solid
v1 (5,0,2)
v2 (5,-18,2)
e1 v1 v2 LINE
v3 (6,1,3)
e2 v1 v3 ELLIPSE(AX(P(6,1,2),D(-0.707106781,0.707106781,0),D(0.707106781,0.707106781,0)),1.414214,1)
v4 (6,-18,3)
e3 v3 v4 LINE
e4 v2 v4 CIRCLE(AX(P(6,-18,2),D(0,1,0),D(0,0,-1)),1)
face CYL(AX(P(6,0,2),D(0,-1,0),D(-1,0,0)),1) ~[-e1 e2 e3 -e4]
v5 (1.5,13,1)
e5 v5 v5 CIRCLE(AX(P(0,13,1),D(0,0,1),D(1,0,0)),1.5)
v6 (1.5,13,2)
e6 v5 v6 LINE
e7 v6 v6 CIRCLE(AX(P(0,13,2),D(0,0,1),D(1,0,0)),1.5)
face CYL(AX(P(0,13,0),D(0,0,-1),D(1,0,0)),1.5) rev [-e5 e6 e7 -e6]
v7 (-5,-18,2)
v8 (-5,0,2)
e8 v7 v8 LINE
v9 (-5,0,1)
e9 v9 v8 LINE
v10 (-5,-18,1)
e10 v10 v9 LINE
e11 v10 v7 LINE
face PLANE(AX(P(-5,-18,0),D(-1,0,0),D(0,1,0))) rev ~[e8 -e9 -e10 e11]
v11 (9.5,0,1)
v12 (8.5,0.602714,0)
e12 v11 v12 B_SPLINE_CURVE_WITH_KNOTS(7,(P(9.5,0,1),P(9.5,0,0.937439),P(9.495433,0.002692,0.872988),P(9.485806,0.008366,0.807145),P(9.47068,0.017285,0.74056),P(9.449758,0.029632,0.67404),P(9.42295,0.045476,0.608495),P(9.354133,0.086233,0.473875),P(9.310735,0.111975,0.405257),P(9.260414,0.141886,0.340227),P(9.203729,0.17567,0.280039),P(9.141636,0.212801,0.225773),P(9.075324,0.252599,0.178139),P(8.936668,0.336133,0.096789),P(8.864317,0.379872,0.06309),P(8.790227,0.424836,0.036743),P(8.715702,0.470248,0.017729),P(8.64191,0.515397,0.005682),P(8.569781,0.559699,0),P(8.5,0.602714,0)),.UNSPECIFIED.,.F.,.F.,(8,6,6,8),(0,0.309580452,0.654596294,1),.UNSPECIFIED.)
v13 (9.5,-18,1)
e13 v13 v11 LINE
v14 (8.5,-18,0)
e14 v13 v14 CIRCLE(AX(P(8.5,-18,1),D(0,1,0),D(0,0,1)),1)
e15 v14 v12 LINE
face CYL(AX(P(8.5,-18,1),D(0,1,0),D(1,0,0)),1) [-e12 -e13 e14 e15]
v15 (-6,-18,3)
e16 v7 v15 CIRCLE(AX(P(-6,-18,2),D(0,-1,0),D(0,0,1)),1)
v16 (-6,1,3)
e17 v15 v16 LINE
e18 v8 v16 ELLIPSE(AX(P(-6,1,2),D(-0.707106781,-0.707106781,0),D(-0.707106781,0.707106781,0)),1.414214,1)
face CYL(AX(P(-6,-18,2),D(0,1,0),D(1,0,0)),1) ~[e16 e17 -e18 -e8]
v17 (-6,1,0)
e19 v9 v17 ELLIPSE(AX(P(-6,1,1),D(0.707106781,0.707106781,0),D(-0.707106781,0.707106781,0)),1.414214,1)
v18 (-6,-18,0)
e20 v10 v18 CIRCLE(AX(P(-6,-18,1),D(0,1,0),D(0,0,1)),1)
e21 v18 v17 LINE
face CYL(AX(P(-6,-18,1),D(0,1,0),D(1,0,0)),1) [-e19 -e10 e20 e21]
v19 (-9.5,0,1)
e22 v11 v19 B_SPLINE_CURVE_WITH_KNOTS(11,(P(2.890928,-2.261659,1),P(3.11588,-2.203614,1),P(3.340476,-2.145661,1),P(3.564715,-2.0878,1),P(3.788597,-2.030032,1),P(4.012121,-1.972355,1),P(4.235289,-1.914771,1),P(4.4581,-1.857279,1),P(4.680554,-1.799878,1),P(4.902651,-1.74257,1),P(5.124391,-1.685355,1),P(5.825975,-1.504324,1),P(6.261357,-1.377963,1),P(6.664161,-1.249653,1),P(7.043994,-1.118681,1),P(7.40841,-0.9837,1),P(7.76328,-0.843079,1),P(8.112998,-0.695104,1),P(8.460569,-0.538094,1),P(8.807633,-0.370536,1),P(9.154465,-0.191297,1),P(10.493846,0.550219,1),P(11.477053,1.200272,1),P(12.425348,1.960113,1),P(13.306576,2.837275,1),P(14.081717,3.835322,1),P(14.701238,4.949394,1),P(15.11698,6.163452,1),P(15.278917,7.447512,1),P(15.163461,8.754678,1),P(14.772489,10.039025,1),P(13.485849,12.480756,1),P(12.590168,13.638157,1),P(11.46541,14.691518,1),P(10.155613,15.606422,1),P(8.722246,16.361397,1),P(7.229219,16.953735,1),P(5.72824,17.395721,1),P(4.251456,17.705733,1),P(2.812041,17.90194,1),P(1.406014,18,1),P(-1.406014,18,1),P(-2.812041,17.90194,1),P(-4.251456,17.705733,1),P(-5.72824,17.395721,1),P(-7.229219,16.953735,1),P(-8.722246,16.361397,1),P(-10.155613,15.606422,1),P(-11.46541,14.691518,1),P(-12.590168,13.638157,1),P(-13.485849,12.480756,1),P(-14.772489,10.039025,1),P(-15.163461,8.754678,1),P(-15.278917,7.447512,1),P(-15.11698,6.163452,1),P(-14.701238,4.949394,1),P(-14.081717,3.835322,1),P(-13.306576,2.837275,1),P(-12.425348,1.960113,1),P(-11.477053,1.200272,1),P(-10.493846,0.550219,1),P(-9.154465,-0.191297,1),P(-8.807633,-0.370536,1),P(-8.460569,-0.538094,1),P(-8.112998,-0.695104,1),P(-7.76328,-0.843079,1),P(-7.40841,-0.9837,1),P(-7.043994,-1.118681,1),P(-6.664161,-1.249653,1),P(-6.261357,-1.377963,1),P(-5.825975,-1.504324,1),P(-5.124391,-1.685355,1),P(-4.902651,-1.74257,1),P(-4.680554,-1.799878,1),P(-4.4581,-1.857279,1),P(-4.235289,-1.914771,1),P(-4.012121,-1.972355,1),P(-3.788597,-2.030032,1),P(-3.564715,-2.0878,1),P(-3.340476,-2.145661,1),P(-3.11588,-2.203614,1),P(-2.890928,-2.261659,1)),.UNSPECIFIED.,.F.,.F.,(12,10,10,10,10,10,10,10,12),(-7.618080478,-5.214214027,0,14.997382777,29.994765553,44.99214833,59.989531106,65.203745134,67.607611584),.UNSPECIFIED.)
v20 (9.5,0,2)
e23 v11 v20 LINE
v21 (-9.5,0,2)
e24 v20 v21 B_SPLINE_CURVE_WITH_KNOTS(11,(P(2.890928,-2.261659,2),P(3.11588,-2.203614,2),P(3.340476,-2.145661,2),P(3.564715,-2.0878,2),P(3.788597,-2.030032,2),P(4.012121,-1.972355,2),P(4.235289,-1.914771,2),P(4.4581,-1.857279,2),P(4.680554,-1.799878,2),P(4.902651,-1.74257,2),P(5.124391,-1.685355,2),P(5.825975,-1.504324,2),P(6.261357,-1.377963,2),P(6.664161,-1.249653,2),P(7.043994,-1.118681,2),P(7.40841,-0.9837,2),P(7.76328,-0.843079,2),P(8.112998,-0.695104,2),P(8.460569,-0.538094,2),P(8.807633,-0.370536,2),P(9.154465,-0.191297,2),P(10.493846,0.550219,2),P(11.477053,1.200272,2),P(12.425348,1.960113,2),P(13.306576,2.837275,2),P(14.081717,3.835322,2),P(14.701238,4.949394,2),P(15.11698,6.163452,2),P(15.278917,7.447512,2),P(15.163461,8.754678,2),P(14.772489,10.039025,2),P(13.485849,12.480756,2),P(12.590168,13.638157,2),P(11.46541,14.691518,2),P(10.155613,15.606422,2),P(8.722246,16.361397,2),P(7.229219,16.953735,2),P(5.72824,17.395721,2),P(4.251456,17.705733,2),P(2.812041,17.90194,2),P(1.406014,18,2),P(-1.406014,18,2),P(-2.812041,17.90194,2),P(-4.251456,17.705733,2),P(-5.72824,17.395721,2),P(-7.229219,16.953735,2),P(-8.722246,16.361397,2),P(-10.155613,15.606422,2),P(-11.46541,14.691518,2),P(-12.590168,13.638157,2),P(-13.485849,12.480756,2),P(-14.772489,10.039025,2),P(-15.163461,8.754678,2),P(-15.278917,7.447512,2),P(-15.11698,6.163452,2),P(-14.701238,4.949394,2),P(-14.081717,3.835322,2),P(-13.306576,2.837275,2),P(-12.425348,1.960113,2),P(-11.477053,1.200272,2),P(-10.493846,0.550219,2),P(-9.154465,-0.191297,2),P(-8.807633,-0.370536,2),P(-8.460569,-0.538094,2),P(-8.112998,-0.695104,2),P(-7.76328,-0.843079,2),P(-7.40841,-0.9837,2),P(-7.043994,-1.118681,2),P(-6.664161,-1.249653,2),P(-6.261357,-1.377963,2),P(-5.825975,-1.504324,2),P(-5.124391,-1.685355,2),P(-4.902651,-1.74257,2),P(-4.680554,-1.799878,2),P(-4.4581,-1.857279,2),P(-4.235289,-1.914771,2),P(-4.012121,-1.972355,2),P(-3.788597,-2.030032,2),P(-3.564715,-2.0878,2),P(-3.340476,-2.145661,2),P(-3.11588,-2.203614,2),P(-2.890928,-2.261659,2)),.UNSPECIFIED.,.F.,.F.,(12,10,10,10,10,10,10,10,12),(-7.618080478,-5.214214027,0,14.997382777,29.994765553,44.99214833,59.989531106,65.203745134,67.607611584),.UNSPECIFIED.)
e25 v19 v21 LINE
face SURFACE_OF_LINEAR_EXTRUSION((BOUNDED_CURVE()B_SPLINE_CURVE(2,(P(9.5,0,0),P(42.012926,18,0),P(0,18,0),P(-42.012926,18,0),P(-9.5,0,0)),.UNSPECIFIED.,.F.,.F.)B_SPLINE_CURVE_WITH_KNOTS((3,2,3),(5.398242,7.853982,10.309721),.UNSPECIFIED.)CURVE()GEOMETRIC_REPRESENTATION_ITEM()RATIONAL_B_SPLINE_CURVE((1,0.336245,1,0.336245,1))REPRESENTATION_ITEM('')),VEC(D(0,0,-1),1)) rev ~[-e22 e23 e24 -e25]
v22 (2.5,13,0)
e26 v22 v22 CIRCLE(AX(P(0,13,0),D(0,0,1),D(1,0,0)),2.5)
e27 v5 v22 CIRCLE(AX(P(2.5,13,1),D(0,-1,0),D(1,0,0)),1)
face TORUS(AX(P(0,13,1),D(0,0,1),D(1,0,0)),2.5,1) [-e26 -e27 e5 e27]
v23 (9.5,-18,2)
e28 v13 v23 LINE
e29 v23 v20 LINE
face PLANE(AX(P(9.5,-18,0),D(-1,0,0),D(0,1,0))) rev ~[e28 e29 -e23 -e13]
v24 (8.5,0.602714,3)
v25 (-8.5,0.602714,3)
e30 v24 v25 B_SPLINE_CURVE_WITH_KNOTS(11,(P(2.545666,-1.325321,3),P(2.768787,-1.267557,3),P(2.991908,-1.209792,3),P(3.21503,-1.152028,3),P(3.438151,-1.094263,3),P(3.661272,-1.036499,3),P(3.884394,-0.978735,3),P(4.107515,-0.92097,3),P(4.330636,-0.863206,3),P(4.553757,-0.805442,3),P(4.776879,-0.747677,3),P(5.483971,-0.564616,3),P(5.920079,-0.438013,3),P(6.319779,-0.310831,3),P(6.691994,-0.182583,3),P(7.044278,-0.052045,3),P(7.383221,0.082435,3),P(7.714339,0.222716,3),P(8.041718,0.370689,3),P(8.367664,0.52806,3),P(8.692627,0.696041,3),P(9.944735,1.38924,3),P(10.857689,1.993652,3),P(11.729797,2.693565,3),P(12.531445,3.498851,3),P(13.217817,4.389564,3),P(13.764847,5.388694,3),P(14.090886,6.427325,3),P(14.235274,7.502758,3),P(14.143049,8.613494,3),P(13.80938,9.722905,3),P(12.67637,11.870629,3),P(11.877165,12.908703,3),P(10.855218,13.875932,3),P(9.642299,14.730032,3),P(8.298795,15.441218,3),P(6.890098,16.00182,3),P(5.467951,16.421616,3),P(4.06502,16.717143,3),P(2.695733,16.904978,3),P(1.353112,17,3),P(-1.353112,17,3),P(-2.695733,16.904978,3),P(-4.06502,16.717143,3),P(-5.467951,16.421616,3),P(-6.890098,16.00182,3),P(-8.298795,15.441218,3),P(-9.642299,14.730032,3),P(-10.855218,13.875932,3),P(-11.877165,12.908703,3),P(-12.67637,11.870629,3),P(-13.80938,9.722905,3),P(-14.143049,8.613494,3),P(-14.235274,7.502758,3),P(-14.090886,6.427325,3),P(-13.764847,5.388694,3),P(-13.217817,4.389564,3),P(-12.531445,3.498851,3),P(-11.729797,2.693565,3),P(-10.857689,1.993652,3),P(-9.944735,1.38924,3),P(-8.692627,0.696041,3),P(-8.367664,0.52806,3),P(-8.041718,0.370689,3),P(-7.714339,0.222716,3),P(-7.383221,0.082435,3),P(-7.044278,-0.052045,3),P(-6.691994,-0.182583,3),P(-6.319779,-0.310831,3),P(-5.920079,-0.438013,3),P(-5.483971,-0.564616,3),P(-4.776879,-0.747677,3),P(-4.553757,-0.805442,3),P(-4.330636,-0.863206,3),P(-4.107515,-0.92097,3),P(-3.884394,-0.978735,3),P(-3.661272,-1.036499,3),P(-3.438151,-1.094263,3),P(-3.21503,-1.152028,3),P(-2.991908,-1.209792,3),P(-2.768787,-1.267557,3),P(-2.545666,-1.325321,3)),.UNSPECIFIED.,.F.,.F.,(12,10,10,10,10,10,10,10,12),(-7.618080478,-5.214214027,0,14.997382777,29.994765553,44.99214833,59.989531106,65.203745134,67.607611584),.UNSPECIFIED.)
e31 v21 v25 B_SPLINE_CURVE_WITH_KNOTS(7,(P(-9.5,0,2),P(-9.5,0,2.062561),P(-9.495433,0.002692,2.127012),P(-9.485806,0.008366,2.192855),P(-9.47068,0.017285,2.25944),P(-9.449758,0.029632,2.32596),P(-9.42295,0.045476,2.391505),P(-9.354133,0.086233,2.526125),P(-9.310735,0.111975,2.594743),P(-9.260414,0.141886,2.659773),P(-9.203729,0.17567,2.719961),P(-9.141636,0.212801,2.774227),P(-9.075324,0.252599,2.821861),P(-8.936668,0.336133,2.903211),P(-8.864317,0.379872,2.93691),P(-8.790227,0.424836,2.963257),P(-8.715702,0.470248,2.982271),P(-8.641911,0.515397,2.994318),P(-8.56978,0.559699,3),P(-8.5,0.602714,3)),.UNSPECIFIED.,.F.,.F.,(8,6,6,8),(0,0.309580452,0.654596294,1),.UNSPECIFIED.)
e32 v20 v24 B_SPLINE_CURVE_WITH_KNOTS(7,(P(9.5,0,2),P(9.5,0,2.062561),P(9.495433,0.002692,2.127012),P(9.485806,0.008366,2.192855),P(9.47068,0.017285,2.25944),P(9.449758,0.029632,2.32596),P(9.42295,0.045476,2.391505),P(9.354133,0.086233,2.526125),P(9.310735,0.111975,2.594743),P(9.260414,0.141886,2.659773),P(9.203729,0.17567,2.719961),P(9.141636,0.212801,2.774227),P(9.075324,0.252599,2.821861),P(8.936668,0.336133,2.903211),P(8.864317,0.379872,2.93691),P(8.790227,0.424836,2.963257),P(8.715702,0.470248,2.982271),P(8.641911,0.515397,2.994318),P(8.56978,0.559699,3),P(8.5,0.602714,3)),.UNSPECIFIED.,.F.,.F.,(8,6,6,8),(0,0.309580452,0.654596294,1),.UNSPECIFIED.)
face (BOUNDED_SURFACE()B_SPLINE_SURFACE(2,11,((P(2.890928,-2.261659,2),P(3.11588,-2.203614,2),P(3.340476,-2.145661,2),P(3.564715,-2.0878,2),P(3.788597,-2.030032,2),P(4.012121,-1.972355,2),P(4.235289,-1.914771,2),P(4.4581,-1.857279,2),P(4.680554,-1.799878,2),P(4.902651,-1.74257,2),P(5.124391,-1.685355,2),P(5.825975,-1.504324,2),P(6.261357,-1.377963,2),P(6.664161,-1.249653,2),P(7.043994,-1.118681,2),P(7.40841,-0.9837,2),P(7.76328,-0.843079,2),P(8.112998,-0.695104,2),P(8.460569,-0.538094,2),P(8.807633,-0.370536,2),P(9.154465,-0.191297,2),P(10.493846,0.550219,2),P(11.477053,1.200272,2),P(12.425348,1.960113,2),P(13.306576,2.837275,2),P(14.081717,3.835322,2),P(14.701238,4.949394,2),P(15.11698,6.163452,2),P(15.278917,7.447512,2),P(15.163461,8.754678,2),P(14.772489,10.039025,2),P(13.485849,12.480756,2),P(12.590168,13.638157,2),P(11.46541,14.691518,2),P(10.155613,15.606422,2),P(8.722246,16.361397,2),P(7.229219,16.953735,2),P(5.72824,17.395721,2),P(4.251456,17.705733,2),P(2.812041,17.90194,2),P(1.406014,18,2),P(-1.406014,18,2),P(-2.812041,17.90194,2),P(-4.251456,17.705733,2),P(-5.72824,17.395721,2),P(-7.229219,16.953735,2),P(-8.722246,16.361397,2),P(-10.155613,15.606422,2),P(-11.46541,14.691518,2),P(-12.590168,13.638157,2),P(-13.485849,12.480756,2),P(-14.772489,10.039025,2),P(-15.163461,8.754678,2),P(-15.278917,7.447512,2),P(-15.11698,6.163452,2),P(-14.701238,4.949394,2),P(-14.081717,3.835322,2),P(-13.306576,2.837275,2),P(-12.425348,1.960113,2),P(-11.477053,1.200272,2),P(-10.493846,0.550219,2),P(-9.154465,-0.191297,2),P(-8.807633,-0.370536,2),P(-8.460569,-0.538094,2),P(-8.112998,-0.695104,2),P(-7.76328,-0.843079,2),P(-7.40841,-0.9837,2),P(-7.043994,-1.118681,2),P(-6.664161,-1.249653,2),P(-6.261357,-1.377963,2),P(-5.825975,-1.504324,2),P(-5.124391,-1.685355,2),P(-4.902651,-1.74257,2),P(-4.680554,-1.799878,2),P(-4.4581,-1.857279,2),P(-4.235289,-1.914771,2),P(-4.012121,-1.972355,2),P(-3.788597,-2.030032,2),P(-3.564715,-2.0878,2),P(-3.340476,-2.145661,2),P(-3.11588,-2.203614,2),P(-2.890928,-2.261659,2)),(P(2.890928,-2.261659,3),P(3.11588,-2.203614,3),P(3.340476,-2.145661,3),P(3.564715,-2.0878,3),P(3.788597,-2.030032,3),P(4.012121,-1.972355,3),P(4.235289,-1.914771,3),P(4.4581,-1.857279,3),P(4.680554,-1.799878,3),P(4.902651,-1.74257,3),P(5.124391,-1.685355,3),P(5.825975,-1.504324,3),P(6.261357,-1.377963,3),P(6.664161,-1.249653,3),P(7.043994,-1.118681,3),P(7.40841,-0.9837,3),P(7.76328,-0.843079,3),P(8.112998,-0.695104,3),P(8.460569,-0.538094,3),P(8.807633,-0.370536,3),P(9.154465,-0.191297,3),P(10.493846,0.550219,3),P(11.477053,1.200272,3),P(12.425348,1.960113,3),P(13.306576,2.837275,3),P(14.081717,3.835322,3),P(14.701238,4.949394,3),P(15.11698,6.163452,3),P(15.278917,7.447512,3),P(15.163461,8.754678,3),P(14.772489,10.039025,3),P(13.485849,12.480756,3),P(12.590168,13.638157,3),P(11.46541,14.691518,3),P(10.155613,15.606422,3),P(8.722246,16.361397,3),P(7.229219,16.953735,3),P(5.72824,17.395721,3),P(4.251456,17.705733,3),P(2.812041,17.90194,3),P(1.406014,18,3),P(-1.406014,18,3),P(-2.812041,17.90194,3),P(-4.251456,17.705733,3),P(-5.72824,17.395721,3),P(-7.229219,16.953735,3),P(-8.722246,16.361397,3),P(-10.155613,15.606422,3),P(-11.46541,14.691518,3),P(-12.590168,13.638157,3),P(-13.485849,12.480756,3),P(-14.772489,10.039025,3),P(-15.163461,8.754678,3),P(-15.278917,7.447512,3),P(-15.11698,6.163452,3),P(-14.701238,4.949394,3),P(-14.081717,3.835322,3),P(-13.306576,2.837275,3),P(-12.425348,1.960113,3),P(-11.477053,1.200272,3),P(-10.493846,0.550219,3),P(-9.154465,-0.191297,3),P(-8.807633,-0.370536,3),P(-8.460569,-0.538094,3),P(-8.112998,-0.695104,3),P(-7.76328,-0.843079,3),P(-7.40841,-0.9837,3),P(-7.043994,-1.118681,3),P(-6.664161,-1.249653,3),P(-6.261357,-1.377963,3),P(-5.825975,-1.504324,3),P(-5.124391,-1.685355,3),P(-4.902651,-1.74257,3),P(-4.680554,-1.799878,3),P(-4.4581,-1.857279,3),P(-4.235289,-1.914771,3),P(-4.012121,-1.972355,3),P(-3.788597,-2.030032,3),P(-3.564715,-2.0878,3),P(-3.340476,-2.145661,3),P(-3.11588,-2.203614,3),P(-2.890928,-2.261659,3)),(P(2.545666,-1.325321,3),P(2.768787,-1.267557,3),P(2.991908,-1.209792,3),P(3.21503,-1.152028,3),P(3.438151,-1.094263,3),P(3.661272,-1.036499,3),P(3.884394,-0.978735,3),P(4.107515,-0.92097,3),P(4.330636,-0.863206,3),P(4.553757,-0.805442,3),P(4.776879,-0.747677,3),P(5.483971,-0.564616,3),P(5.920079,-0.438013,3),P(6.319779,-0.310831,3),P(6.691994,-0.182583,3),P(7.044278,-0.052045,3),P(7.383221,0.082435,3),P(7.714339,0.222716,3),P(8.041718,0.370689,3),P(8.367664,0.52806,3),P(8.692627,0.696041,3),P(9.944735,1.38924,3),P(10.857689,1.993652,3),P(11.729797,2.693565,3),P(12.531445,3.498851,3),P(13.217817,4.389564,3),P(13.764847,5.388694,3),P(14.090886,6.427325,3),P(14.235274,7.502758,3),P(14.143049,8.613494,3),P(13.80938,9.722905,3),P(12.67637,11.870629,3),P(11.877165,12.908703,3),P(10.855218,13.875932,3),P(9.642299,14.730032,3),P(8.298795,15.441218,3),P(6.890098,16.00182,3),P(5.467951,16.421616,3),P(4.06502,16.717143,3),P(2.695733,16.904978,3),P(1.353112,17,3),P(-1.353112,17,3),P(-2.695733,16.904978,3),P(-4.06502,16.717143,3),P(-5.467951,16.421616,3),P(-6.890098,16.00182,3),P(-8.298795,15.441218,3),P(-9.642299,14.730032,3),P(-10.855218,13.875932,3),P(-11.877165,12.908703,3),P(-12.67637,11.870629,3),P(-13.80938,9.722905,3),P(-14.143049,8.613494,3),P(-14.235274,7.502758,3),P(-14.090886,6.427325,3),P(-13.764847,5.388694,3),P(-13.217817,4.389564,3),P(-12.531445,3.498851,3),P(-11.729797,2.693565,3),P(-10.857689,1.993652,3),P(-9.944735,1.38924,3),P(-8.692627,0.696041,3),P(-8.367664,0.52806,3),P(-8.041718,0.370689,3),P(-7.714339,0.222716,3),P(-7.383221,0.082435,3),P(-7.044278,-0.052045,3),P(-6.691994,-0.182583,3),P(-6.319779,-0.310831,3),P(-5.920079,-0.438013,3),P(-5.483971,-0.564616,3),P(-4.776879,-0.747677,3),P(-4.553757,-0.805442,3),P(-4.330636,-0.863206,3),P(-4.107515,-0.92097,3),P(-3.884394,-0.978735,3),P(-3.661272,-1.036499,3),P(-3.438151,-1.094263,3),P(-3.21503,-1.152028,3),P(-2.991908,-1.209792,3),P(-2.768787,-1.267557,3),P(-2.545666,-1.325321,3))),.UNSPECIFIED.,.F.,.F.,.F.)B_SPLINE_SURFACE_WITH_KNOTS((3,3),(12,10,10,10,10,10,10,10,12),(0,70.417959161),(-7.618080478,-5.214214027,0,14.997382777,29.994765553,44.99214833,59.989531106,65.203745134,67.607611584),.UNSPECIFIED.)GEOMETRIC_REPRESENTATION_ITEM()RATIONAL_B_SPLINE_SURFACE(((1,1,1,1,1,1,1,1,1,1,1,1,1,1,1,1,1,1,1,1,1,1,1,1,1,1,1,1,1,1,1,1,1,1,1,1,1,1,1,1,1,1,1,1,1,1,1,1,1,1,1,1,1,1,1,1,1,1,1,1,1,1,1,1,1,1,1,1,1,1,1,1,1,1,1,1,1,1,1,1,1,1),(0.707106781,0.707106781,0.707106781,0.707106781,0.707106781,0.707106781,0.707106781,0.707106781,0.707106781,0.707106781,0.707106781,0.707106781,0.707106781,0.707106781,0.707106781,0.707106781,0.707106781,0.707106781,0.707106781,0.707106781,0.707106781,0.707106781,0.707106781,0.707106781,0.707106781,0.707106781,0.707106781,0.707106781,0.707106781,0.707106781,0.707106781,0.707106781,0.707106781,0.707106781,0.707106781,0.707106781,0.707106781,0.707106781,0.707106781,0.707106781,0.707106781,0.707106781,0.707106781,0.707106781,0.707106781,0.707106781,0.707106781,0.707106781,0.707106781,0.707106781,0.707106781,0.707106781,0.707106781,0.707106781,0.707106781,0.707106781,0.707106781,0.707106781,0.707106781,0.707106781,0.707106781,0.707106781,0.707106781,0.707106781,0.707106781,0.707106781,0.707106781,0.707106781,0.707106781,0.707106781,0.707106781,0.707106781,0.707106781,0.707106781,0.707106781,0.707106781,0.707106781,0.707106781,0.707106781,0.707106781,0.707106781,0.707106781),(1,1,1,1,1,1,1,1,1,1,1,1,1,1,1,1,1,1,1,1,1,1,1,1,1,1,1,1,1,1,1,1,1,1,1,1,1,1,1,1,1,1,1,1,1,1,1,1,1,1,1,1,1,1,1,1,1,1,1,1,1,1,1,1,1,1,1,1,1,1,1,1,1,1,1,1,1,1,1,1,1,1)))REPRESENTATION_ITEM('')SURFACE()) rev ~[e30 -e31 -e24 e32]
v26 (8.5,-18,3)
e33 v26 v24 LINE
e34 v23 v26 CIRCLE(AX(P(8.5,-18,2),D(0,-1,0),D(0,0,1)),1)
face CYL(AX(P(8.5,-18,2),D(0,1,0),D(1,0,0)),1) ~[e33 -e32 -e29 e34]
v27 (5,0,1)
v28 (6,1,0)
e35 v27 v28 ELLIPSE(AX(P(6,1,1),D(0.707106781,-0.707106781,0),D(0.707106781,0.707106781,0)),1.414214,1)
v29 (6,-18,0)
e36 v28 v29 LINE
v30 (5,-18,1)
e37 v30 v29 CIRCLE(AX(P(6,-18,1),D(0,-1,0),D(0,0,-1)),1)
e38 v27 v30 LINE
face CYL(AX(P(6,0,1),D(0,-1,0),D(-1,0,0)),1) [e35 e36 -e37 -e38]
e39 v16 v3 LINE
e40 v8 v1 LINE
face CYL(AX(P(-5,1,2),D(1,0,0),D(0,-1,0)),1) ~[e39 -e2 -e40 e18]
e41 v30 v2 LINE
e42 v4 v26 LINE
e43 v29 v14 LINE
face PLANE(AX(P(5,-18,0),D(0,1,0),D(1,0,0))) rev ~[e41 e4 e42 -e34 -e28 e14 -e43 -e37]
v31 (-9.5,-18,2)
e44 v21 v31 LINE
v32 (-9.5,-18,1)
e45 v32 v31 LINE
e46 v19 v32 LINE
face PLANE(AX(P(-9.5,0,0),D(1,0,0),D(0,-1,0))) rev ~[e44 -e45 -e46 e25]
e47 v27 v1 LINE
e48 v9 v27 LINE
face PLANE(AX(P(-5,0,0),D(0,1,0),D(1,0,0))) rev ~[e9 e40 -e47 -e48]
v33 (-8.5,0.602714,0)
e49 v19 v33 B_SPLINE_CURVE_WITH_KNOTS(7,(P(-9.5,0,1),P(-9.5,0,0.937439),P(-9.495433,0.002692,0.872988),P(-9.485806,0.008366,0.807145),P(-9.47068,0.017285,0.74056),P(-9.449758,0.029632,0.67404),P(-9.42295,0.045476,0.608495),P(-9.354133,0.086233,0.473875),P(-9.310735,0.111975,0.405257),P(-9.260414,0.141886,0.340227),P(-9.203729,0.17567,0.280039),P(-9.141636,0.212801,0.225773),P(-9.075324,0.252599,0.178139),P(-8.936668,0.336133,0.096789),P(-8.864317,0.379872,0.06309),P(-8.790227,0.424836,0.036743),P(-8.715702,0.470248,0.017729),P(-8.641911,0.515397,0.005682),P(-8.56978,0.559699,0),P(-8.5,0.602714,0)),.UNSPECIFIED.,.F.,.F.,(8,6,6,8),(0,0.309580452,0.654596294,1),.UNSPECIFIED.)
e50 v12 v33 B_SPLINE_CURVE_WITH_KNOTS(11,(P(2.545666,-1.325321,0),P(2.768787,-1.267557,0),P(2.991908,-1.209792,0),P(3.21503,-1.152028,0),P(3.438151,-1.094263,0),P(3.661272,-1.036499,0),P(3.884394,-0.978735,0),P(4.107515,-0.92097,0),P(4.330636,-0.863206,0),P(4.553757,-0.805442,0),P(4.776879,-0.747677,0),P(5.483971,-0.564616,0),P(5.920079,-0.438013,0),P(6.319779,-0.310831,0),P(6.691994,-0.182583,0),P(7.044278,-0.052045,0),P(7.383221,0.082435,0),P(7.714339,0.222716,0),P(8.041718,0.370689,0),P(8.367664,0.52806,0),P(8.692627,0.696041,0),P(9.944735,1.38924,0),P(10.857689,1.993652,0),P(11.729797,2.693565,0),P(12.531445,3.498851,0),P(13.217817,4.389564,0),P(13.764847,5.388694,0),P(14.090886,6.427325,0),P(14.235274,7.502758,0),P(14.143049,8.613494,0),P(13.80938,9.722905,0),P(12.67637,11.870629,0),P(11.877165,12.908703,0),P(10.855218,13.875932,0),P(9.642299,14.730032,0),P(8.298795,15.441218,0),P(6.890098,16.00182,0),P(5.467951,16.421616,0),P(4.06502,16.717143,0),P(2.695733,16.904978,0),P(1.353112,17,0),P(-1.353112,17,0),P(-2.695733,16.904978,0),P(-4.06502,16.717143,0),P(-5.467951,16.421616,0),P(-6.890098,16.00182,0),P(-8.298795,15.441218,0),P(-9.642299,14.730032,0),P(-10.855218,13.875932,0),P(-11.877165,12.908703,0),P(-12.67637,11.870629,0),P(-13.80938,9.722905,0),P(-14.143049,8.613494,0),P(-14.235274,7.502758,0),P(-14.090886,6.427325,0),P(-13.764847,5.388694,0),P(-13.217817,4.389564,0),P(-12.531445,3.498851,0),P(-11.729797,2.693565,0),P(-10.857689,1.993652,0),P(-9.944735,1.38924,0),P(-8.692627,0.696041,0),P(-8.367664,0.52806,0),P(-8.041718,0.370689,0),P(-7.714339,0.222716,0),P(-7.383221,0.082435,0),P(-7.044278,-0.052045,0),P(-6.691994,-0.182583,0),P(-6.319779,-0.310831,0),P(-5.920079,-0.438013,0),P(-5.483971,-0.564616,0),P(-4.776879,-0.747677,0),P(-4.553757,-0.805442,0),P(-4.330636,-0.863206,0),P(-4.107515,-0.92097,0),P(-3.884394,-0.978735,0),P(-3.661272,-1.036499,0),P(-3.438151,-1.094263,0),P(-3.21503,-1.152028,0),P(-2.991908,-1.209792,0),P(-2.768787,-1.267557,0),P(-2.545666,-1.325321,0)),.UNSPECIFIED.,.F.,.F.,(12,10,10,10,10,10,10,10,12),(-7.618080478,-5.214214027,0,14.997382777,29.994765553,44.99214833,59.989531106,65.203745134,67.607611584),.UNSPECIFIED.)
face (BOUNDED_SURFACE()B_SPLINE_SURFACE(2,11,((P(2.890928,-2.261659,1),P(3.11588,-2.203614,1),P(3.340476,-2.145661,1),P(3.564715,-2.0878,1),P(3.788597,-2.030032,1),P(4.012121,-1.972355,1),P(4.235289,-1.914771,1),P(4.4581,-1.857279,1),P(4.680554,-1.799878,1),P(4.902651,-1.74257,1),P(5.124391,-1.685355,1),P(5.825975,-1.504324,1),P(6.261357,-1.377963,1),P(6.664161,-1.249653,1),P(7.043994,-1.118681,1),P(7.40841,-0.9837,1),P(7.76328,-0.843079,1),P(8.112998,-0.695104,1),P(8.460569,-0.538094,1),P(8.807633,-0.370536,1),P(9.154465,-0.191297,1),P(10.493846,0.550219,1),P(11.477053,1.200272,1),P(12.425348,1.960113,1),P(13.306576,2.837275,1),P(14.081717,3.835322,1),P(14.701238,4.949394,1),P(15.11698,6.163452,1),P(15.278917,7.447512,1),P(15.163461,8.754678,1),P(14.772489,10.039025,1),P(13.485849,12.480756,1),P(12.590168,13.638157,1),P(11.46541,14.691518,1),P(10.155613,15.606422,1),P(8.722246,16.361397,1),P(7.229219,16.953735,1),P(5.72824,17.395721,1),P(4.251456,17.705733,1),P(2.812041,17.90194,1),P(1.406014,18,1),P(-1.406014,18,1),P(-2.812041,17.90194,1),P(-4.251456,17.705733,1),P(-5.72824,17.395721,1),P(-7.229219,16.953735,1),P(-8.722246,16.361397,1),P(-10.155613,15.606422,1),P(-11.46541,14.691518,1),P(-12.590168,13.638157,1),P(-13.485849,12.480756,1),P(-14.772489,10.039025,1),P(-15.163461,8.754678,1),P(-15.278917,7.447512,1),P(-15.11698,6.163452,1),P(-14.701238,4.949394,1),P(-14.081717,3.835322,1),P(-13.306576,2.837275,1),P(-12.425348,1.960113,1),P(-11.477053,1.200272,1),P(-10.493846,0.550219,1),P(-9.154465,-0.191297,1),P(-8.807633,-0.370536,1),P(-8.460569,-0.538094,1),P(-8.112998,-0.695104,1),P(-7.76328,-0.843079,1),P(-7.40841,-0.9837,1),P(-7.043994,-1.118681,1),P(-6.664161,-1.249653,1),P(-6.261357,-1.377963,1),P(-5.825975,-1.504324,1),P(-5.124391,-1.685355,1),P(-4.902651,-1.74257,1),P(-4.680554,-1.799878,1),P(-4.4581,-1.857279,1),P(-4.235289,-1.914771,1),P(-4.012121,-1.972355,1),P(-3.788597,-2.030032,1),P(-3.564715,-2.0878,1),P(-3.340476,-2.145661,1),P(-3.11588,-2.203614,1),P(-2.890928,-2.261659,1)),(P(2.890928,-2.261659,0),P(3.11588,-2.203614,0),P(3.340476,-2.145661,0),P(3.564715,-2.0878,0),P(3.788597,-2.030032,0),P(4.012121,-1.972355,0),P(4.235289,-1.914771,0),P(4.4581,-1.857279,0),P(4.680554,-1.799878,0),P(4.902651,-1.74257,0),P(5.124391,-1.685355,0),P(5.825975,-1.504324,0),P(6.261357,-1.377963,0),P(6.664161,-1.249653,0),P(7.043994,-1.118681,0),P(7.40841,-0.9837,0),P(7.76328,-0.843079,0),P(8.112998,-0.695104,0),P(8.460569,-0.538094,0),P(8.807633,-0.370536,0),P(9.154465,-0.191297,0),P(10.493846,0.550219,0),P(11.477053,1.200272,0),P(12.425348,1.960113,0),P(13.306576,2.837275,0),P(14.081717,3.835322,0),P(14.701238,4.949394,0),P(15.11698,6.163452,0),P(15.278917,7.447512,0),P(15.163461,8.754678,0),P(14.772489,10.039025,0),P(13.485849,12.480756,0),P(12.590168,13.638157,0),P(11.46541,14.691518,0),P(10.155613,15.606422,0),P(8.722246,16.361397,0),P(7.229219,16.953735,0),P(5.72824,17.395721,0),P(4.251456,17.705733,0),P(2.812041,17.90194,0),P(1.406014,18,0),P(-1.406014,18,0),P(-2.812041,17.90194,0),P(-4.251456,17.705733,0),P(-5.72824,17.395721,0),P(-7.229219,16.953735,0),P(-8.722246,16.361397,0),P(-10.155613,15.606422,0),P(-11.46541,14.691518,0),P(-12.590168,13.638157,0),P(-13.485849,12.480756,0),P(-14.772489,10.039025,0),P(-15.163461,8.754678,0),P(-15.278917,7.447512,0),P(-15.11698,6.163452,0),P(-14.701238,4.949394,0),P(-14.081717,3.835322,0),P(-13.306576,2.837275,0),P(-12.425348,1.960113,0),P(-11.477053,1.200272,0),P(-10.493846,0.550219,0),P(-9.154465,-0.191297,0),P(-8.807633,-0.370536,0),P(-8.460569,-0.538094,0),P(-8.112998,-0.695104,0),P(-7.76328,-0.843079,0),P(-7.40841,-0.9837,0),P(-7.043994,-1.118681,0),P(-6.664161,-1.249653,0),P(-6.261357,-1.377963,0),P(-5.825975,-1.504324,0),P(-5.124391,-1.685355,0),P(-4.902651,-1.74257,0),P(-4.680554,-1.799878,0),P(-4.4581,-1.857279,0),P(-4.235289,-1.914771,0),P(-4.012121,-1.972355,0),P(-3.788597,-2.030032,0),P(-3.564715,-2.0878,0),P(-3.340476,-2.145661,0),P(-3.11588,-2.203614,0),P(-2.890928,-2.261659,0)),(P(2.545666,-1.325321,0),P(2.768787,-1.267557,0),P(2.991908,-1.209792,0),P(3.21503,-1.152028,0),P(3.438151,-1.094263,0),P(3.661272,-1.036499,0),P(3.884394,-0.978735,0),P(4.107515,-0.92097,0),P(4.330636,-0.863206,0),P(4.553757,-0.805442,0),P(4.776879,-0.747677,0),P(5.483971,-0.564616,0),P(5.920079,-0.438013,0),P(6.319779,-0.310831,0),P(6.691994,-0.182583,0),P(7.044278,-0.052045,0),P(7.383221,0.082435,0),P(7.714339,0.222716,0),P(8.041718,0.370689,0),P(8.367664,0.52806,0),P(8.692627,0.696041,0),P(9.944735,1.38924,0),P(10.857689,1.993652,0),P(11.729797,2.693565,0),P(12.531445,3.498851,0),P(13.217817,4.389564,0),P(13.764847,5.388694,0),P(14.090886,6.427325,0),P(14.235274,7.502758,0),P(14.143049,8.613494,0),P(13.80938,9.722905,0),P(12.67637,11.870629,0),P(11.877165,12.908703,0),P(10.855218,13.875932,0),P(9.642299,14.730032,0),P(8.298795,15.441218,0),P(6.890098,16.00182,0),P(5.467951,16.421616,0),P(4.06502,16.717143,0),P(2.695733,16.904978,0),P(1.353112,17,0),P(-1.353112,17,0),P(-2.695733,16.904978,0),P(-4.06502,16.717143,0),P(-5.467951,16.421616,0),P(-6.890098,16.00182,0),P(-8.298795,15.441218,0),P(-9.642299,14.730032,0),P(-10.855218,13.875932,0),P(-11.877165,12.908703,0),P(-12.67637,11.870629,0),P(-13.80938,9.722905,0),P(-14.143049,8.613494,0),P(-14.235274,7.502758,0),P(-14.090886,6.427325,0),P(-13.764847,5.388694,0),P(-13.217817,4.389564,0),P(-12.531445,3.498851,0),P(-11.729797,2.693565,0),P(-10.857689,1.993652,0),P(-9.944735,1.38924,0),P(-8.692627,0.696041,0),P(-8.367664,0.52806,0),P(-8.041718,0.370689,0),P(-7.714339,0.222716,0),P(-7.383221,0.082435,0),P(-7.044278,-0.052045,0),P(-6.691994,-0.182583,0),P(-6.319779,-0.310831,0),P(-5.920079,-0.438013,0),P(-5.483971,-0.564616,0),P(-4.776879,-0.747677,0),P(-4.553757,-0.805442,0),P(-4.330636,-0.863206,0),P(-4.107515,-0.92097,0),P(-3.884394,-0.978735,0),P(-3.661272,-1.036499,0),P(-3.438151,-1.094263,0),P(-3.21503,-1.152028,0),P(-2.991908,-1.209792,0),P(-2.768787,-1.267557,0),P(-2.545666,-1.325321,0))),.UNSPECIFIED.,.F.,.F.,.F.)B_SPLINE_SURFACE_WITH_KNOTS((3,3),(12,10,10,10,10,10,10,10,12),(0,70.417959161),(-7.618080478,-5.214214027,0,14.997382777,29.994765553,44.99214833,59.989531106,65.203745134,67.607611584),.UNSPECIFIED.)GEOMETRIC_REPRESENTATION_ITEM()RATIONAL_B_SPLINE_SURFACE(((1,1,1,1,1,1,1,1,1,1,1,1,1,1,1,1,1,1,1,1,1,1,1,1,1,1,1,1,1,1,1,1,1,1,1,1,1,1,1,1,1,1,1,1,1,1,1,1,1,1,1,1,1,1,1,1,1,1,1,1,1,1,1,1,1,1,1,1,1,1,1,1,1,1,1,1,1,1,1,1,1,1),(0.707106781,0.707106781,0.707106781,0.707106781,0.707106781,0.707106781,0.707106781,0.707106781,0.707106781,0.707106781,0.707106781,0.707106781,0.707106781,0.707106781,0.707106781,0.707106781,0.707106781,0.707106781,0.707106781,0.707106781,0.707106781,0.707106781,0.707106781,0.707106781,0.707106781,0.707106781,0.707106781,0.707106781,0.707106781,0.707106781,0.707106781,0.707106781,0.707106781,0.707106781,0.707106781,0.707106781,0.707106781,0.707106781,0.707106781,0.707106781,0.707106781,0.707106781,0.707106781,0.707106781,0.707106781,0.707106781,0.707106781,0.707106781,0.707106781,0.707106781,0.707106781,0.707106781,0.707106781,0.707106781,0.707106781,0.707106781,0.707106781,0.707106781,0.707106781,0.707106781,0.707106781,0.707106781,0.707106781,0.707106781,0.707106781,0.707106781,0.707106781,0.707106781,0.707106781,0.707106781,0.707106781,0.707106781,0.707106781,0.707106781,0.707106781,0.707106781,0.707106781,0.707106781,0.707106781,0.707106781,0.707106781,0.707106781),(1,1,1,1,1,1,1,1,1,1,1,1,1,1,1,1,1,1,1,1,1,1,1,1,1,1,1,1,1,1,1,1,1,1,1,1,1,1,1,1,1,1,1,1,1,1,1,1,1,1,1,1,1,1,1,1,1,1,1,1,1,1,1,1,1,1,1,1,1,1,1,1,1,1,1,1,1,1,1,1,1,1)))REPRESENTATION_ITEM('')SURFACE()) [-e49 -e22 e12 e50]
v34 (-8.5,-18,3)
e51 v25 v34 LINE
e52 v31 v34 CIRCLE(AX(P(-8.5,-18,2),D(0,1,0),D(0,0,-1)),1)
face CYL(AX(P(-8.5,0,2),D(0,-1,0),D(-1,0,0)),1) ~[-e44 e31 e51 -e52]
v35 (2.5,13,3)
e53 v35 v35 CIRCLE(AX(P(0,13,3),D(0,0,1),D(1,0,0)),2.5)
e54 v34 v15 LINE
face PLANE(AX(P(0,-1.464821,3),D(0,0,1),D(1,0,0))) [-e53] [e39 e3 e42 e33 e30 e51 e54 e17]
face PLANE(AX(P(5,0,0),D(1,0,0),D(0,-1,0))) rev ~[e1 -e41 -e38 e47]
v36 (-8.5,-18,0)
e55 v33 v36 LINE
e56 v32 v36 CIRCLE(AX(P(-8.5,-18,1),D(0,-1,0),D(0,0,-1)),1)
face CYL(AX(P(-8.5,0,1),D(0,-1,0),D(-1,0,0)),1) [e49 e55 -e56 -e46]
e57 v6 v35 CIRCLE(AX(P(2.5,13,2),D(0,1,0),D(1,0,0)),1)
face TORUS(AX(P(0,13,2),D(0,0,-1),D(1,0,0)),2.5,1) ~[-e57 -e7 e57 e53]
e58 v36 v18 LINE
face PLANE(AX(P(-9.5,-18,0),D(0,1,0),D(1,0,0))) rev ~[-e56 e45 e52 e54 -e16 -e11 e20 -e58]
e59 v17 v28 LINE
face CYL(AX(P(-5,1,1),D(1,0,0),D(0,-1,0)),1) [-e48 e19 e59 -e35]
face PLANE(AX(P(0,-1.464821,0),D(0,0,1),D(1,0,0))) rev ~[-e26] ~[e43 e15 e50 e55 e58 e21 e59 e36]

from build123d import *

# Parameters (mm, degrees)
SKETCH_R  = 1.5
PAD_DEPTH = 3
FILLET_R  = 1


with BuildPart() as part:
    # Sketch → Pad (new body)
    with BuildSketch(Plane.XY):
        with BuildLine():
            Line((-9.5, 0), (-9.5, -18))
            Line((-9.5, -18), (-5, -18))
            Line((-5, -18), (-5, 0))
            Line((-5, 0), (5, 0))
            Line((5, 0), (5, -18))
            Line((5, -18), (9.5, -18))
            Line((9.5, -18), (9.5, 0))
            add(Edge.make_bspline(
                [(9.5, 0), (42.012926, 18), (0, 18), (-42.012926, 18), (-9.5, 0)],
                knots=[5.398242, 5.398242, 5.398242, 7.853982, 7.853982, 10.309721, 10.309721, 10.309721], degree=2, weights=[1, 0.336245, 1, 0.336245, 1]))
        make_face()
        with Locations((0, 13)):
            Circle(SKETCH_R, mode=Mode.SUBTRACT)
    extrude(amount=PAD_DEPTH)

    # Fillet
    fillet_edges = [part.edges().sort_by_distance(p)[0] for p in [
        (-9.5, -9, 3),
        (-5, -9, 3),
        (0, 0, 3),
        (5, -9, 3),
        (-0.000491, 18, 3),
        (9.5, -9, 3),
        (-1.5, 13, 3),
        (-0.000491, 18, 0),
        (-1.5, 13, 0),
        (-9.5, -9, 0),
        (-5, -9, 0),
        (0, 0, 0),
        (5, -9, 0),
        (9.5, -9, 0),
    ]]
    fillet(fillet_edges, radius=FILLET_R)


solid = part.part
